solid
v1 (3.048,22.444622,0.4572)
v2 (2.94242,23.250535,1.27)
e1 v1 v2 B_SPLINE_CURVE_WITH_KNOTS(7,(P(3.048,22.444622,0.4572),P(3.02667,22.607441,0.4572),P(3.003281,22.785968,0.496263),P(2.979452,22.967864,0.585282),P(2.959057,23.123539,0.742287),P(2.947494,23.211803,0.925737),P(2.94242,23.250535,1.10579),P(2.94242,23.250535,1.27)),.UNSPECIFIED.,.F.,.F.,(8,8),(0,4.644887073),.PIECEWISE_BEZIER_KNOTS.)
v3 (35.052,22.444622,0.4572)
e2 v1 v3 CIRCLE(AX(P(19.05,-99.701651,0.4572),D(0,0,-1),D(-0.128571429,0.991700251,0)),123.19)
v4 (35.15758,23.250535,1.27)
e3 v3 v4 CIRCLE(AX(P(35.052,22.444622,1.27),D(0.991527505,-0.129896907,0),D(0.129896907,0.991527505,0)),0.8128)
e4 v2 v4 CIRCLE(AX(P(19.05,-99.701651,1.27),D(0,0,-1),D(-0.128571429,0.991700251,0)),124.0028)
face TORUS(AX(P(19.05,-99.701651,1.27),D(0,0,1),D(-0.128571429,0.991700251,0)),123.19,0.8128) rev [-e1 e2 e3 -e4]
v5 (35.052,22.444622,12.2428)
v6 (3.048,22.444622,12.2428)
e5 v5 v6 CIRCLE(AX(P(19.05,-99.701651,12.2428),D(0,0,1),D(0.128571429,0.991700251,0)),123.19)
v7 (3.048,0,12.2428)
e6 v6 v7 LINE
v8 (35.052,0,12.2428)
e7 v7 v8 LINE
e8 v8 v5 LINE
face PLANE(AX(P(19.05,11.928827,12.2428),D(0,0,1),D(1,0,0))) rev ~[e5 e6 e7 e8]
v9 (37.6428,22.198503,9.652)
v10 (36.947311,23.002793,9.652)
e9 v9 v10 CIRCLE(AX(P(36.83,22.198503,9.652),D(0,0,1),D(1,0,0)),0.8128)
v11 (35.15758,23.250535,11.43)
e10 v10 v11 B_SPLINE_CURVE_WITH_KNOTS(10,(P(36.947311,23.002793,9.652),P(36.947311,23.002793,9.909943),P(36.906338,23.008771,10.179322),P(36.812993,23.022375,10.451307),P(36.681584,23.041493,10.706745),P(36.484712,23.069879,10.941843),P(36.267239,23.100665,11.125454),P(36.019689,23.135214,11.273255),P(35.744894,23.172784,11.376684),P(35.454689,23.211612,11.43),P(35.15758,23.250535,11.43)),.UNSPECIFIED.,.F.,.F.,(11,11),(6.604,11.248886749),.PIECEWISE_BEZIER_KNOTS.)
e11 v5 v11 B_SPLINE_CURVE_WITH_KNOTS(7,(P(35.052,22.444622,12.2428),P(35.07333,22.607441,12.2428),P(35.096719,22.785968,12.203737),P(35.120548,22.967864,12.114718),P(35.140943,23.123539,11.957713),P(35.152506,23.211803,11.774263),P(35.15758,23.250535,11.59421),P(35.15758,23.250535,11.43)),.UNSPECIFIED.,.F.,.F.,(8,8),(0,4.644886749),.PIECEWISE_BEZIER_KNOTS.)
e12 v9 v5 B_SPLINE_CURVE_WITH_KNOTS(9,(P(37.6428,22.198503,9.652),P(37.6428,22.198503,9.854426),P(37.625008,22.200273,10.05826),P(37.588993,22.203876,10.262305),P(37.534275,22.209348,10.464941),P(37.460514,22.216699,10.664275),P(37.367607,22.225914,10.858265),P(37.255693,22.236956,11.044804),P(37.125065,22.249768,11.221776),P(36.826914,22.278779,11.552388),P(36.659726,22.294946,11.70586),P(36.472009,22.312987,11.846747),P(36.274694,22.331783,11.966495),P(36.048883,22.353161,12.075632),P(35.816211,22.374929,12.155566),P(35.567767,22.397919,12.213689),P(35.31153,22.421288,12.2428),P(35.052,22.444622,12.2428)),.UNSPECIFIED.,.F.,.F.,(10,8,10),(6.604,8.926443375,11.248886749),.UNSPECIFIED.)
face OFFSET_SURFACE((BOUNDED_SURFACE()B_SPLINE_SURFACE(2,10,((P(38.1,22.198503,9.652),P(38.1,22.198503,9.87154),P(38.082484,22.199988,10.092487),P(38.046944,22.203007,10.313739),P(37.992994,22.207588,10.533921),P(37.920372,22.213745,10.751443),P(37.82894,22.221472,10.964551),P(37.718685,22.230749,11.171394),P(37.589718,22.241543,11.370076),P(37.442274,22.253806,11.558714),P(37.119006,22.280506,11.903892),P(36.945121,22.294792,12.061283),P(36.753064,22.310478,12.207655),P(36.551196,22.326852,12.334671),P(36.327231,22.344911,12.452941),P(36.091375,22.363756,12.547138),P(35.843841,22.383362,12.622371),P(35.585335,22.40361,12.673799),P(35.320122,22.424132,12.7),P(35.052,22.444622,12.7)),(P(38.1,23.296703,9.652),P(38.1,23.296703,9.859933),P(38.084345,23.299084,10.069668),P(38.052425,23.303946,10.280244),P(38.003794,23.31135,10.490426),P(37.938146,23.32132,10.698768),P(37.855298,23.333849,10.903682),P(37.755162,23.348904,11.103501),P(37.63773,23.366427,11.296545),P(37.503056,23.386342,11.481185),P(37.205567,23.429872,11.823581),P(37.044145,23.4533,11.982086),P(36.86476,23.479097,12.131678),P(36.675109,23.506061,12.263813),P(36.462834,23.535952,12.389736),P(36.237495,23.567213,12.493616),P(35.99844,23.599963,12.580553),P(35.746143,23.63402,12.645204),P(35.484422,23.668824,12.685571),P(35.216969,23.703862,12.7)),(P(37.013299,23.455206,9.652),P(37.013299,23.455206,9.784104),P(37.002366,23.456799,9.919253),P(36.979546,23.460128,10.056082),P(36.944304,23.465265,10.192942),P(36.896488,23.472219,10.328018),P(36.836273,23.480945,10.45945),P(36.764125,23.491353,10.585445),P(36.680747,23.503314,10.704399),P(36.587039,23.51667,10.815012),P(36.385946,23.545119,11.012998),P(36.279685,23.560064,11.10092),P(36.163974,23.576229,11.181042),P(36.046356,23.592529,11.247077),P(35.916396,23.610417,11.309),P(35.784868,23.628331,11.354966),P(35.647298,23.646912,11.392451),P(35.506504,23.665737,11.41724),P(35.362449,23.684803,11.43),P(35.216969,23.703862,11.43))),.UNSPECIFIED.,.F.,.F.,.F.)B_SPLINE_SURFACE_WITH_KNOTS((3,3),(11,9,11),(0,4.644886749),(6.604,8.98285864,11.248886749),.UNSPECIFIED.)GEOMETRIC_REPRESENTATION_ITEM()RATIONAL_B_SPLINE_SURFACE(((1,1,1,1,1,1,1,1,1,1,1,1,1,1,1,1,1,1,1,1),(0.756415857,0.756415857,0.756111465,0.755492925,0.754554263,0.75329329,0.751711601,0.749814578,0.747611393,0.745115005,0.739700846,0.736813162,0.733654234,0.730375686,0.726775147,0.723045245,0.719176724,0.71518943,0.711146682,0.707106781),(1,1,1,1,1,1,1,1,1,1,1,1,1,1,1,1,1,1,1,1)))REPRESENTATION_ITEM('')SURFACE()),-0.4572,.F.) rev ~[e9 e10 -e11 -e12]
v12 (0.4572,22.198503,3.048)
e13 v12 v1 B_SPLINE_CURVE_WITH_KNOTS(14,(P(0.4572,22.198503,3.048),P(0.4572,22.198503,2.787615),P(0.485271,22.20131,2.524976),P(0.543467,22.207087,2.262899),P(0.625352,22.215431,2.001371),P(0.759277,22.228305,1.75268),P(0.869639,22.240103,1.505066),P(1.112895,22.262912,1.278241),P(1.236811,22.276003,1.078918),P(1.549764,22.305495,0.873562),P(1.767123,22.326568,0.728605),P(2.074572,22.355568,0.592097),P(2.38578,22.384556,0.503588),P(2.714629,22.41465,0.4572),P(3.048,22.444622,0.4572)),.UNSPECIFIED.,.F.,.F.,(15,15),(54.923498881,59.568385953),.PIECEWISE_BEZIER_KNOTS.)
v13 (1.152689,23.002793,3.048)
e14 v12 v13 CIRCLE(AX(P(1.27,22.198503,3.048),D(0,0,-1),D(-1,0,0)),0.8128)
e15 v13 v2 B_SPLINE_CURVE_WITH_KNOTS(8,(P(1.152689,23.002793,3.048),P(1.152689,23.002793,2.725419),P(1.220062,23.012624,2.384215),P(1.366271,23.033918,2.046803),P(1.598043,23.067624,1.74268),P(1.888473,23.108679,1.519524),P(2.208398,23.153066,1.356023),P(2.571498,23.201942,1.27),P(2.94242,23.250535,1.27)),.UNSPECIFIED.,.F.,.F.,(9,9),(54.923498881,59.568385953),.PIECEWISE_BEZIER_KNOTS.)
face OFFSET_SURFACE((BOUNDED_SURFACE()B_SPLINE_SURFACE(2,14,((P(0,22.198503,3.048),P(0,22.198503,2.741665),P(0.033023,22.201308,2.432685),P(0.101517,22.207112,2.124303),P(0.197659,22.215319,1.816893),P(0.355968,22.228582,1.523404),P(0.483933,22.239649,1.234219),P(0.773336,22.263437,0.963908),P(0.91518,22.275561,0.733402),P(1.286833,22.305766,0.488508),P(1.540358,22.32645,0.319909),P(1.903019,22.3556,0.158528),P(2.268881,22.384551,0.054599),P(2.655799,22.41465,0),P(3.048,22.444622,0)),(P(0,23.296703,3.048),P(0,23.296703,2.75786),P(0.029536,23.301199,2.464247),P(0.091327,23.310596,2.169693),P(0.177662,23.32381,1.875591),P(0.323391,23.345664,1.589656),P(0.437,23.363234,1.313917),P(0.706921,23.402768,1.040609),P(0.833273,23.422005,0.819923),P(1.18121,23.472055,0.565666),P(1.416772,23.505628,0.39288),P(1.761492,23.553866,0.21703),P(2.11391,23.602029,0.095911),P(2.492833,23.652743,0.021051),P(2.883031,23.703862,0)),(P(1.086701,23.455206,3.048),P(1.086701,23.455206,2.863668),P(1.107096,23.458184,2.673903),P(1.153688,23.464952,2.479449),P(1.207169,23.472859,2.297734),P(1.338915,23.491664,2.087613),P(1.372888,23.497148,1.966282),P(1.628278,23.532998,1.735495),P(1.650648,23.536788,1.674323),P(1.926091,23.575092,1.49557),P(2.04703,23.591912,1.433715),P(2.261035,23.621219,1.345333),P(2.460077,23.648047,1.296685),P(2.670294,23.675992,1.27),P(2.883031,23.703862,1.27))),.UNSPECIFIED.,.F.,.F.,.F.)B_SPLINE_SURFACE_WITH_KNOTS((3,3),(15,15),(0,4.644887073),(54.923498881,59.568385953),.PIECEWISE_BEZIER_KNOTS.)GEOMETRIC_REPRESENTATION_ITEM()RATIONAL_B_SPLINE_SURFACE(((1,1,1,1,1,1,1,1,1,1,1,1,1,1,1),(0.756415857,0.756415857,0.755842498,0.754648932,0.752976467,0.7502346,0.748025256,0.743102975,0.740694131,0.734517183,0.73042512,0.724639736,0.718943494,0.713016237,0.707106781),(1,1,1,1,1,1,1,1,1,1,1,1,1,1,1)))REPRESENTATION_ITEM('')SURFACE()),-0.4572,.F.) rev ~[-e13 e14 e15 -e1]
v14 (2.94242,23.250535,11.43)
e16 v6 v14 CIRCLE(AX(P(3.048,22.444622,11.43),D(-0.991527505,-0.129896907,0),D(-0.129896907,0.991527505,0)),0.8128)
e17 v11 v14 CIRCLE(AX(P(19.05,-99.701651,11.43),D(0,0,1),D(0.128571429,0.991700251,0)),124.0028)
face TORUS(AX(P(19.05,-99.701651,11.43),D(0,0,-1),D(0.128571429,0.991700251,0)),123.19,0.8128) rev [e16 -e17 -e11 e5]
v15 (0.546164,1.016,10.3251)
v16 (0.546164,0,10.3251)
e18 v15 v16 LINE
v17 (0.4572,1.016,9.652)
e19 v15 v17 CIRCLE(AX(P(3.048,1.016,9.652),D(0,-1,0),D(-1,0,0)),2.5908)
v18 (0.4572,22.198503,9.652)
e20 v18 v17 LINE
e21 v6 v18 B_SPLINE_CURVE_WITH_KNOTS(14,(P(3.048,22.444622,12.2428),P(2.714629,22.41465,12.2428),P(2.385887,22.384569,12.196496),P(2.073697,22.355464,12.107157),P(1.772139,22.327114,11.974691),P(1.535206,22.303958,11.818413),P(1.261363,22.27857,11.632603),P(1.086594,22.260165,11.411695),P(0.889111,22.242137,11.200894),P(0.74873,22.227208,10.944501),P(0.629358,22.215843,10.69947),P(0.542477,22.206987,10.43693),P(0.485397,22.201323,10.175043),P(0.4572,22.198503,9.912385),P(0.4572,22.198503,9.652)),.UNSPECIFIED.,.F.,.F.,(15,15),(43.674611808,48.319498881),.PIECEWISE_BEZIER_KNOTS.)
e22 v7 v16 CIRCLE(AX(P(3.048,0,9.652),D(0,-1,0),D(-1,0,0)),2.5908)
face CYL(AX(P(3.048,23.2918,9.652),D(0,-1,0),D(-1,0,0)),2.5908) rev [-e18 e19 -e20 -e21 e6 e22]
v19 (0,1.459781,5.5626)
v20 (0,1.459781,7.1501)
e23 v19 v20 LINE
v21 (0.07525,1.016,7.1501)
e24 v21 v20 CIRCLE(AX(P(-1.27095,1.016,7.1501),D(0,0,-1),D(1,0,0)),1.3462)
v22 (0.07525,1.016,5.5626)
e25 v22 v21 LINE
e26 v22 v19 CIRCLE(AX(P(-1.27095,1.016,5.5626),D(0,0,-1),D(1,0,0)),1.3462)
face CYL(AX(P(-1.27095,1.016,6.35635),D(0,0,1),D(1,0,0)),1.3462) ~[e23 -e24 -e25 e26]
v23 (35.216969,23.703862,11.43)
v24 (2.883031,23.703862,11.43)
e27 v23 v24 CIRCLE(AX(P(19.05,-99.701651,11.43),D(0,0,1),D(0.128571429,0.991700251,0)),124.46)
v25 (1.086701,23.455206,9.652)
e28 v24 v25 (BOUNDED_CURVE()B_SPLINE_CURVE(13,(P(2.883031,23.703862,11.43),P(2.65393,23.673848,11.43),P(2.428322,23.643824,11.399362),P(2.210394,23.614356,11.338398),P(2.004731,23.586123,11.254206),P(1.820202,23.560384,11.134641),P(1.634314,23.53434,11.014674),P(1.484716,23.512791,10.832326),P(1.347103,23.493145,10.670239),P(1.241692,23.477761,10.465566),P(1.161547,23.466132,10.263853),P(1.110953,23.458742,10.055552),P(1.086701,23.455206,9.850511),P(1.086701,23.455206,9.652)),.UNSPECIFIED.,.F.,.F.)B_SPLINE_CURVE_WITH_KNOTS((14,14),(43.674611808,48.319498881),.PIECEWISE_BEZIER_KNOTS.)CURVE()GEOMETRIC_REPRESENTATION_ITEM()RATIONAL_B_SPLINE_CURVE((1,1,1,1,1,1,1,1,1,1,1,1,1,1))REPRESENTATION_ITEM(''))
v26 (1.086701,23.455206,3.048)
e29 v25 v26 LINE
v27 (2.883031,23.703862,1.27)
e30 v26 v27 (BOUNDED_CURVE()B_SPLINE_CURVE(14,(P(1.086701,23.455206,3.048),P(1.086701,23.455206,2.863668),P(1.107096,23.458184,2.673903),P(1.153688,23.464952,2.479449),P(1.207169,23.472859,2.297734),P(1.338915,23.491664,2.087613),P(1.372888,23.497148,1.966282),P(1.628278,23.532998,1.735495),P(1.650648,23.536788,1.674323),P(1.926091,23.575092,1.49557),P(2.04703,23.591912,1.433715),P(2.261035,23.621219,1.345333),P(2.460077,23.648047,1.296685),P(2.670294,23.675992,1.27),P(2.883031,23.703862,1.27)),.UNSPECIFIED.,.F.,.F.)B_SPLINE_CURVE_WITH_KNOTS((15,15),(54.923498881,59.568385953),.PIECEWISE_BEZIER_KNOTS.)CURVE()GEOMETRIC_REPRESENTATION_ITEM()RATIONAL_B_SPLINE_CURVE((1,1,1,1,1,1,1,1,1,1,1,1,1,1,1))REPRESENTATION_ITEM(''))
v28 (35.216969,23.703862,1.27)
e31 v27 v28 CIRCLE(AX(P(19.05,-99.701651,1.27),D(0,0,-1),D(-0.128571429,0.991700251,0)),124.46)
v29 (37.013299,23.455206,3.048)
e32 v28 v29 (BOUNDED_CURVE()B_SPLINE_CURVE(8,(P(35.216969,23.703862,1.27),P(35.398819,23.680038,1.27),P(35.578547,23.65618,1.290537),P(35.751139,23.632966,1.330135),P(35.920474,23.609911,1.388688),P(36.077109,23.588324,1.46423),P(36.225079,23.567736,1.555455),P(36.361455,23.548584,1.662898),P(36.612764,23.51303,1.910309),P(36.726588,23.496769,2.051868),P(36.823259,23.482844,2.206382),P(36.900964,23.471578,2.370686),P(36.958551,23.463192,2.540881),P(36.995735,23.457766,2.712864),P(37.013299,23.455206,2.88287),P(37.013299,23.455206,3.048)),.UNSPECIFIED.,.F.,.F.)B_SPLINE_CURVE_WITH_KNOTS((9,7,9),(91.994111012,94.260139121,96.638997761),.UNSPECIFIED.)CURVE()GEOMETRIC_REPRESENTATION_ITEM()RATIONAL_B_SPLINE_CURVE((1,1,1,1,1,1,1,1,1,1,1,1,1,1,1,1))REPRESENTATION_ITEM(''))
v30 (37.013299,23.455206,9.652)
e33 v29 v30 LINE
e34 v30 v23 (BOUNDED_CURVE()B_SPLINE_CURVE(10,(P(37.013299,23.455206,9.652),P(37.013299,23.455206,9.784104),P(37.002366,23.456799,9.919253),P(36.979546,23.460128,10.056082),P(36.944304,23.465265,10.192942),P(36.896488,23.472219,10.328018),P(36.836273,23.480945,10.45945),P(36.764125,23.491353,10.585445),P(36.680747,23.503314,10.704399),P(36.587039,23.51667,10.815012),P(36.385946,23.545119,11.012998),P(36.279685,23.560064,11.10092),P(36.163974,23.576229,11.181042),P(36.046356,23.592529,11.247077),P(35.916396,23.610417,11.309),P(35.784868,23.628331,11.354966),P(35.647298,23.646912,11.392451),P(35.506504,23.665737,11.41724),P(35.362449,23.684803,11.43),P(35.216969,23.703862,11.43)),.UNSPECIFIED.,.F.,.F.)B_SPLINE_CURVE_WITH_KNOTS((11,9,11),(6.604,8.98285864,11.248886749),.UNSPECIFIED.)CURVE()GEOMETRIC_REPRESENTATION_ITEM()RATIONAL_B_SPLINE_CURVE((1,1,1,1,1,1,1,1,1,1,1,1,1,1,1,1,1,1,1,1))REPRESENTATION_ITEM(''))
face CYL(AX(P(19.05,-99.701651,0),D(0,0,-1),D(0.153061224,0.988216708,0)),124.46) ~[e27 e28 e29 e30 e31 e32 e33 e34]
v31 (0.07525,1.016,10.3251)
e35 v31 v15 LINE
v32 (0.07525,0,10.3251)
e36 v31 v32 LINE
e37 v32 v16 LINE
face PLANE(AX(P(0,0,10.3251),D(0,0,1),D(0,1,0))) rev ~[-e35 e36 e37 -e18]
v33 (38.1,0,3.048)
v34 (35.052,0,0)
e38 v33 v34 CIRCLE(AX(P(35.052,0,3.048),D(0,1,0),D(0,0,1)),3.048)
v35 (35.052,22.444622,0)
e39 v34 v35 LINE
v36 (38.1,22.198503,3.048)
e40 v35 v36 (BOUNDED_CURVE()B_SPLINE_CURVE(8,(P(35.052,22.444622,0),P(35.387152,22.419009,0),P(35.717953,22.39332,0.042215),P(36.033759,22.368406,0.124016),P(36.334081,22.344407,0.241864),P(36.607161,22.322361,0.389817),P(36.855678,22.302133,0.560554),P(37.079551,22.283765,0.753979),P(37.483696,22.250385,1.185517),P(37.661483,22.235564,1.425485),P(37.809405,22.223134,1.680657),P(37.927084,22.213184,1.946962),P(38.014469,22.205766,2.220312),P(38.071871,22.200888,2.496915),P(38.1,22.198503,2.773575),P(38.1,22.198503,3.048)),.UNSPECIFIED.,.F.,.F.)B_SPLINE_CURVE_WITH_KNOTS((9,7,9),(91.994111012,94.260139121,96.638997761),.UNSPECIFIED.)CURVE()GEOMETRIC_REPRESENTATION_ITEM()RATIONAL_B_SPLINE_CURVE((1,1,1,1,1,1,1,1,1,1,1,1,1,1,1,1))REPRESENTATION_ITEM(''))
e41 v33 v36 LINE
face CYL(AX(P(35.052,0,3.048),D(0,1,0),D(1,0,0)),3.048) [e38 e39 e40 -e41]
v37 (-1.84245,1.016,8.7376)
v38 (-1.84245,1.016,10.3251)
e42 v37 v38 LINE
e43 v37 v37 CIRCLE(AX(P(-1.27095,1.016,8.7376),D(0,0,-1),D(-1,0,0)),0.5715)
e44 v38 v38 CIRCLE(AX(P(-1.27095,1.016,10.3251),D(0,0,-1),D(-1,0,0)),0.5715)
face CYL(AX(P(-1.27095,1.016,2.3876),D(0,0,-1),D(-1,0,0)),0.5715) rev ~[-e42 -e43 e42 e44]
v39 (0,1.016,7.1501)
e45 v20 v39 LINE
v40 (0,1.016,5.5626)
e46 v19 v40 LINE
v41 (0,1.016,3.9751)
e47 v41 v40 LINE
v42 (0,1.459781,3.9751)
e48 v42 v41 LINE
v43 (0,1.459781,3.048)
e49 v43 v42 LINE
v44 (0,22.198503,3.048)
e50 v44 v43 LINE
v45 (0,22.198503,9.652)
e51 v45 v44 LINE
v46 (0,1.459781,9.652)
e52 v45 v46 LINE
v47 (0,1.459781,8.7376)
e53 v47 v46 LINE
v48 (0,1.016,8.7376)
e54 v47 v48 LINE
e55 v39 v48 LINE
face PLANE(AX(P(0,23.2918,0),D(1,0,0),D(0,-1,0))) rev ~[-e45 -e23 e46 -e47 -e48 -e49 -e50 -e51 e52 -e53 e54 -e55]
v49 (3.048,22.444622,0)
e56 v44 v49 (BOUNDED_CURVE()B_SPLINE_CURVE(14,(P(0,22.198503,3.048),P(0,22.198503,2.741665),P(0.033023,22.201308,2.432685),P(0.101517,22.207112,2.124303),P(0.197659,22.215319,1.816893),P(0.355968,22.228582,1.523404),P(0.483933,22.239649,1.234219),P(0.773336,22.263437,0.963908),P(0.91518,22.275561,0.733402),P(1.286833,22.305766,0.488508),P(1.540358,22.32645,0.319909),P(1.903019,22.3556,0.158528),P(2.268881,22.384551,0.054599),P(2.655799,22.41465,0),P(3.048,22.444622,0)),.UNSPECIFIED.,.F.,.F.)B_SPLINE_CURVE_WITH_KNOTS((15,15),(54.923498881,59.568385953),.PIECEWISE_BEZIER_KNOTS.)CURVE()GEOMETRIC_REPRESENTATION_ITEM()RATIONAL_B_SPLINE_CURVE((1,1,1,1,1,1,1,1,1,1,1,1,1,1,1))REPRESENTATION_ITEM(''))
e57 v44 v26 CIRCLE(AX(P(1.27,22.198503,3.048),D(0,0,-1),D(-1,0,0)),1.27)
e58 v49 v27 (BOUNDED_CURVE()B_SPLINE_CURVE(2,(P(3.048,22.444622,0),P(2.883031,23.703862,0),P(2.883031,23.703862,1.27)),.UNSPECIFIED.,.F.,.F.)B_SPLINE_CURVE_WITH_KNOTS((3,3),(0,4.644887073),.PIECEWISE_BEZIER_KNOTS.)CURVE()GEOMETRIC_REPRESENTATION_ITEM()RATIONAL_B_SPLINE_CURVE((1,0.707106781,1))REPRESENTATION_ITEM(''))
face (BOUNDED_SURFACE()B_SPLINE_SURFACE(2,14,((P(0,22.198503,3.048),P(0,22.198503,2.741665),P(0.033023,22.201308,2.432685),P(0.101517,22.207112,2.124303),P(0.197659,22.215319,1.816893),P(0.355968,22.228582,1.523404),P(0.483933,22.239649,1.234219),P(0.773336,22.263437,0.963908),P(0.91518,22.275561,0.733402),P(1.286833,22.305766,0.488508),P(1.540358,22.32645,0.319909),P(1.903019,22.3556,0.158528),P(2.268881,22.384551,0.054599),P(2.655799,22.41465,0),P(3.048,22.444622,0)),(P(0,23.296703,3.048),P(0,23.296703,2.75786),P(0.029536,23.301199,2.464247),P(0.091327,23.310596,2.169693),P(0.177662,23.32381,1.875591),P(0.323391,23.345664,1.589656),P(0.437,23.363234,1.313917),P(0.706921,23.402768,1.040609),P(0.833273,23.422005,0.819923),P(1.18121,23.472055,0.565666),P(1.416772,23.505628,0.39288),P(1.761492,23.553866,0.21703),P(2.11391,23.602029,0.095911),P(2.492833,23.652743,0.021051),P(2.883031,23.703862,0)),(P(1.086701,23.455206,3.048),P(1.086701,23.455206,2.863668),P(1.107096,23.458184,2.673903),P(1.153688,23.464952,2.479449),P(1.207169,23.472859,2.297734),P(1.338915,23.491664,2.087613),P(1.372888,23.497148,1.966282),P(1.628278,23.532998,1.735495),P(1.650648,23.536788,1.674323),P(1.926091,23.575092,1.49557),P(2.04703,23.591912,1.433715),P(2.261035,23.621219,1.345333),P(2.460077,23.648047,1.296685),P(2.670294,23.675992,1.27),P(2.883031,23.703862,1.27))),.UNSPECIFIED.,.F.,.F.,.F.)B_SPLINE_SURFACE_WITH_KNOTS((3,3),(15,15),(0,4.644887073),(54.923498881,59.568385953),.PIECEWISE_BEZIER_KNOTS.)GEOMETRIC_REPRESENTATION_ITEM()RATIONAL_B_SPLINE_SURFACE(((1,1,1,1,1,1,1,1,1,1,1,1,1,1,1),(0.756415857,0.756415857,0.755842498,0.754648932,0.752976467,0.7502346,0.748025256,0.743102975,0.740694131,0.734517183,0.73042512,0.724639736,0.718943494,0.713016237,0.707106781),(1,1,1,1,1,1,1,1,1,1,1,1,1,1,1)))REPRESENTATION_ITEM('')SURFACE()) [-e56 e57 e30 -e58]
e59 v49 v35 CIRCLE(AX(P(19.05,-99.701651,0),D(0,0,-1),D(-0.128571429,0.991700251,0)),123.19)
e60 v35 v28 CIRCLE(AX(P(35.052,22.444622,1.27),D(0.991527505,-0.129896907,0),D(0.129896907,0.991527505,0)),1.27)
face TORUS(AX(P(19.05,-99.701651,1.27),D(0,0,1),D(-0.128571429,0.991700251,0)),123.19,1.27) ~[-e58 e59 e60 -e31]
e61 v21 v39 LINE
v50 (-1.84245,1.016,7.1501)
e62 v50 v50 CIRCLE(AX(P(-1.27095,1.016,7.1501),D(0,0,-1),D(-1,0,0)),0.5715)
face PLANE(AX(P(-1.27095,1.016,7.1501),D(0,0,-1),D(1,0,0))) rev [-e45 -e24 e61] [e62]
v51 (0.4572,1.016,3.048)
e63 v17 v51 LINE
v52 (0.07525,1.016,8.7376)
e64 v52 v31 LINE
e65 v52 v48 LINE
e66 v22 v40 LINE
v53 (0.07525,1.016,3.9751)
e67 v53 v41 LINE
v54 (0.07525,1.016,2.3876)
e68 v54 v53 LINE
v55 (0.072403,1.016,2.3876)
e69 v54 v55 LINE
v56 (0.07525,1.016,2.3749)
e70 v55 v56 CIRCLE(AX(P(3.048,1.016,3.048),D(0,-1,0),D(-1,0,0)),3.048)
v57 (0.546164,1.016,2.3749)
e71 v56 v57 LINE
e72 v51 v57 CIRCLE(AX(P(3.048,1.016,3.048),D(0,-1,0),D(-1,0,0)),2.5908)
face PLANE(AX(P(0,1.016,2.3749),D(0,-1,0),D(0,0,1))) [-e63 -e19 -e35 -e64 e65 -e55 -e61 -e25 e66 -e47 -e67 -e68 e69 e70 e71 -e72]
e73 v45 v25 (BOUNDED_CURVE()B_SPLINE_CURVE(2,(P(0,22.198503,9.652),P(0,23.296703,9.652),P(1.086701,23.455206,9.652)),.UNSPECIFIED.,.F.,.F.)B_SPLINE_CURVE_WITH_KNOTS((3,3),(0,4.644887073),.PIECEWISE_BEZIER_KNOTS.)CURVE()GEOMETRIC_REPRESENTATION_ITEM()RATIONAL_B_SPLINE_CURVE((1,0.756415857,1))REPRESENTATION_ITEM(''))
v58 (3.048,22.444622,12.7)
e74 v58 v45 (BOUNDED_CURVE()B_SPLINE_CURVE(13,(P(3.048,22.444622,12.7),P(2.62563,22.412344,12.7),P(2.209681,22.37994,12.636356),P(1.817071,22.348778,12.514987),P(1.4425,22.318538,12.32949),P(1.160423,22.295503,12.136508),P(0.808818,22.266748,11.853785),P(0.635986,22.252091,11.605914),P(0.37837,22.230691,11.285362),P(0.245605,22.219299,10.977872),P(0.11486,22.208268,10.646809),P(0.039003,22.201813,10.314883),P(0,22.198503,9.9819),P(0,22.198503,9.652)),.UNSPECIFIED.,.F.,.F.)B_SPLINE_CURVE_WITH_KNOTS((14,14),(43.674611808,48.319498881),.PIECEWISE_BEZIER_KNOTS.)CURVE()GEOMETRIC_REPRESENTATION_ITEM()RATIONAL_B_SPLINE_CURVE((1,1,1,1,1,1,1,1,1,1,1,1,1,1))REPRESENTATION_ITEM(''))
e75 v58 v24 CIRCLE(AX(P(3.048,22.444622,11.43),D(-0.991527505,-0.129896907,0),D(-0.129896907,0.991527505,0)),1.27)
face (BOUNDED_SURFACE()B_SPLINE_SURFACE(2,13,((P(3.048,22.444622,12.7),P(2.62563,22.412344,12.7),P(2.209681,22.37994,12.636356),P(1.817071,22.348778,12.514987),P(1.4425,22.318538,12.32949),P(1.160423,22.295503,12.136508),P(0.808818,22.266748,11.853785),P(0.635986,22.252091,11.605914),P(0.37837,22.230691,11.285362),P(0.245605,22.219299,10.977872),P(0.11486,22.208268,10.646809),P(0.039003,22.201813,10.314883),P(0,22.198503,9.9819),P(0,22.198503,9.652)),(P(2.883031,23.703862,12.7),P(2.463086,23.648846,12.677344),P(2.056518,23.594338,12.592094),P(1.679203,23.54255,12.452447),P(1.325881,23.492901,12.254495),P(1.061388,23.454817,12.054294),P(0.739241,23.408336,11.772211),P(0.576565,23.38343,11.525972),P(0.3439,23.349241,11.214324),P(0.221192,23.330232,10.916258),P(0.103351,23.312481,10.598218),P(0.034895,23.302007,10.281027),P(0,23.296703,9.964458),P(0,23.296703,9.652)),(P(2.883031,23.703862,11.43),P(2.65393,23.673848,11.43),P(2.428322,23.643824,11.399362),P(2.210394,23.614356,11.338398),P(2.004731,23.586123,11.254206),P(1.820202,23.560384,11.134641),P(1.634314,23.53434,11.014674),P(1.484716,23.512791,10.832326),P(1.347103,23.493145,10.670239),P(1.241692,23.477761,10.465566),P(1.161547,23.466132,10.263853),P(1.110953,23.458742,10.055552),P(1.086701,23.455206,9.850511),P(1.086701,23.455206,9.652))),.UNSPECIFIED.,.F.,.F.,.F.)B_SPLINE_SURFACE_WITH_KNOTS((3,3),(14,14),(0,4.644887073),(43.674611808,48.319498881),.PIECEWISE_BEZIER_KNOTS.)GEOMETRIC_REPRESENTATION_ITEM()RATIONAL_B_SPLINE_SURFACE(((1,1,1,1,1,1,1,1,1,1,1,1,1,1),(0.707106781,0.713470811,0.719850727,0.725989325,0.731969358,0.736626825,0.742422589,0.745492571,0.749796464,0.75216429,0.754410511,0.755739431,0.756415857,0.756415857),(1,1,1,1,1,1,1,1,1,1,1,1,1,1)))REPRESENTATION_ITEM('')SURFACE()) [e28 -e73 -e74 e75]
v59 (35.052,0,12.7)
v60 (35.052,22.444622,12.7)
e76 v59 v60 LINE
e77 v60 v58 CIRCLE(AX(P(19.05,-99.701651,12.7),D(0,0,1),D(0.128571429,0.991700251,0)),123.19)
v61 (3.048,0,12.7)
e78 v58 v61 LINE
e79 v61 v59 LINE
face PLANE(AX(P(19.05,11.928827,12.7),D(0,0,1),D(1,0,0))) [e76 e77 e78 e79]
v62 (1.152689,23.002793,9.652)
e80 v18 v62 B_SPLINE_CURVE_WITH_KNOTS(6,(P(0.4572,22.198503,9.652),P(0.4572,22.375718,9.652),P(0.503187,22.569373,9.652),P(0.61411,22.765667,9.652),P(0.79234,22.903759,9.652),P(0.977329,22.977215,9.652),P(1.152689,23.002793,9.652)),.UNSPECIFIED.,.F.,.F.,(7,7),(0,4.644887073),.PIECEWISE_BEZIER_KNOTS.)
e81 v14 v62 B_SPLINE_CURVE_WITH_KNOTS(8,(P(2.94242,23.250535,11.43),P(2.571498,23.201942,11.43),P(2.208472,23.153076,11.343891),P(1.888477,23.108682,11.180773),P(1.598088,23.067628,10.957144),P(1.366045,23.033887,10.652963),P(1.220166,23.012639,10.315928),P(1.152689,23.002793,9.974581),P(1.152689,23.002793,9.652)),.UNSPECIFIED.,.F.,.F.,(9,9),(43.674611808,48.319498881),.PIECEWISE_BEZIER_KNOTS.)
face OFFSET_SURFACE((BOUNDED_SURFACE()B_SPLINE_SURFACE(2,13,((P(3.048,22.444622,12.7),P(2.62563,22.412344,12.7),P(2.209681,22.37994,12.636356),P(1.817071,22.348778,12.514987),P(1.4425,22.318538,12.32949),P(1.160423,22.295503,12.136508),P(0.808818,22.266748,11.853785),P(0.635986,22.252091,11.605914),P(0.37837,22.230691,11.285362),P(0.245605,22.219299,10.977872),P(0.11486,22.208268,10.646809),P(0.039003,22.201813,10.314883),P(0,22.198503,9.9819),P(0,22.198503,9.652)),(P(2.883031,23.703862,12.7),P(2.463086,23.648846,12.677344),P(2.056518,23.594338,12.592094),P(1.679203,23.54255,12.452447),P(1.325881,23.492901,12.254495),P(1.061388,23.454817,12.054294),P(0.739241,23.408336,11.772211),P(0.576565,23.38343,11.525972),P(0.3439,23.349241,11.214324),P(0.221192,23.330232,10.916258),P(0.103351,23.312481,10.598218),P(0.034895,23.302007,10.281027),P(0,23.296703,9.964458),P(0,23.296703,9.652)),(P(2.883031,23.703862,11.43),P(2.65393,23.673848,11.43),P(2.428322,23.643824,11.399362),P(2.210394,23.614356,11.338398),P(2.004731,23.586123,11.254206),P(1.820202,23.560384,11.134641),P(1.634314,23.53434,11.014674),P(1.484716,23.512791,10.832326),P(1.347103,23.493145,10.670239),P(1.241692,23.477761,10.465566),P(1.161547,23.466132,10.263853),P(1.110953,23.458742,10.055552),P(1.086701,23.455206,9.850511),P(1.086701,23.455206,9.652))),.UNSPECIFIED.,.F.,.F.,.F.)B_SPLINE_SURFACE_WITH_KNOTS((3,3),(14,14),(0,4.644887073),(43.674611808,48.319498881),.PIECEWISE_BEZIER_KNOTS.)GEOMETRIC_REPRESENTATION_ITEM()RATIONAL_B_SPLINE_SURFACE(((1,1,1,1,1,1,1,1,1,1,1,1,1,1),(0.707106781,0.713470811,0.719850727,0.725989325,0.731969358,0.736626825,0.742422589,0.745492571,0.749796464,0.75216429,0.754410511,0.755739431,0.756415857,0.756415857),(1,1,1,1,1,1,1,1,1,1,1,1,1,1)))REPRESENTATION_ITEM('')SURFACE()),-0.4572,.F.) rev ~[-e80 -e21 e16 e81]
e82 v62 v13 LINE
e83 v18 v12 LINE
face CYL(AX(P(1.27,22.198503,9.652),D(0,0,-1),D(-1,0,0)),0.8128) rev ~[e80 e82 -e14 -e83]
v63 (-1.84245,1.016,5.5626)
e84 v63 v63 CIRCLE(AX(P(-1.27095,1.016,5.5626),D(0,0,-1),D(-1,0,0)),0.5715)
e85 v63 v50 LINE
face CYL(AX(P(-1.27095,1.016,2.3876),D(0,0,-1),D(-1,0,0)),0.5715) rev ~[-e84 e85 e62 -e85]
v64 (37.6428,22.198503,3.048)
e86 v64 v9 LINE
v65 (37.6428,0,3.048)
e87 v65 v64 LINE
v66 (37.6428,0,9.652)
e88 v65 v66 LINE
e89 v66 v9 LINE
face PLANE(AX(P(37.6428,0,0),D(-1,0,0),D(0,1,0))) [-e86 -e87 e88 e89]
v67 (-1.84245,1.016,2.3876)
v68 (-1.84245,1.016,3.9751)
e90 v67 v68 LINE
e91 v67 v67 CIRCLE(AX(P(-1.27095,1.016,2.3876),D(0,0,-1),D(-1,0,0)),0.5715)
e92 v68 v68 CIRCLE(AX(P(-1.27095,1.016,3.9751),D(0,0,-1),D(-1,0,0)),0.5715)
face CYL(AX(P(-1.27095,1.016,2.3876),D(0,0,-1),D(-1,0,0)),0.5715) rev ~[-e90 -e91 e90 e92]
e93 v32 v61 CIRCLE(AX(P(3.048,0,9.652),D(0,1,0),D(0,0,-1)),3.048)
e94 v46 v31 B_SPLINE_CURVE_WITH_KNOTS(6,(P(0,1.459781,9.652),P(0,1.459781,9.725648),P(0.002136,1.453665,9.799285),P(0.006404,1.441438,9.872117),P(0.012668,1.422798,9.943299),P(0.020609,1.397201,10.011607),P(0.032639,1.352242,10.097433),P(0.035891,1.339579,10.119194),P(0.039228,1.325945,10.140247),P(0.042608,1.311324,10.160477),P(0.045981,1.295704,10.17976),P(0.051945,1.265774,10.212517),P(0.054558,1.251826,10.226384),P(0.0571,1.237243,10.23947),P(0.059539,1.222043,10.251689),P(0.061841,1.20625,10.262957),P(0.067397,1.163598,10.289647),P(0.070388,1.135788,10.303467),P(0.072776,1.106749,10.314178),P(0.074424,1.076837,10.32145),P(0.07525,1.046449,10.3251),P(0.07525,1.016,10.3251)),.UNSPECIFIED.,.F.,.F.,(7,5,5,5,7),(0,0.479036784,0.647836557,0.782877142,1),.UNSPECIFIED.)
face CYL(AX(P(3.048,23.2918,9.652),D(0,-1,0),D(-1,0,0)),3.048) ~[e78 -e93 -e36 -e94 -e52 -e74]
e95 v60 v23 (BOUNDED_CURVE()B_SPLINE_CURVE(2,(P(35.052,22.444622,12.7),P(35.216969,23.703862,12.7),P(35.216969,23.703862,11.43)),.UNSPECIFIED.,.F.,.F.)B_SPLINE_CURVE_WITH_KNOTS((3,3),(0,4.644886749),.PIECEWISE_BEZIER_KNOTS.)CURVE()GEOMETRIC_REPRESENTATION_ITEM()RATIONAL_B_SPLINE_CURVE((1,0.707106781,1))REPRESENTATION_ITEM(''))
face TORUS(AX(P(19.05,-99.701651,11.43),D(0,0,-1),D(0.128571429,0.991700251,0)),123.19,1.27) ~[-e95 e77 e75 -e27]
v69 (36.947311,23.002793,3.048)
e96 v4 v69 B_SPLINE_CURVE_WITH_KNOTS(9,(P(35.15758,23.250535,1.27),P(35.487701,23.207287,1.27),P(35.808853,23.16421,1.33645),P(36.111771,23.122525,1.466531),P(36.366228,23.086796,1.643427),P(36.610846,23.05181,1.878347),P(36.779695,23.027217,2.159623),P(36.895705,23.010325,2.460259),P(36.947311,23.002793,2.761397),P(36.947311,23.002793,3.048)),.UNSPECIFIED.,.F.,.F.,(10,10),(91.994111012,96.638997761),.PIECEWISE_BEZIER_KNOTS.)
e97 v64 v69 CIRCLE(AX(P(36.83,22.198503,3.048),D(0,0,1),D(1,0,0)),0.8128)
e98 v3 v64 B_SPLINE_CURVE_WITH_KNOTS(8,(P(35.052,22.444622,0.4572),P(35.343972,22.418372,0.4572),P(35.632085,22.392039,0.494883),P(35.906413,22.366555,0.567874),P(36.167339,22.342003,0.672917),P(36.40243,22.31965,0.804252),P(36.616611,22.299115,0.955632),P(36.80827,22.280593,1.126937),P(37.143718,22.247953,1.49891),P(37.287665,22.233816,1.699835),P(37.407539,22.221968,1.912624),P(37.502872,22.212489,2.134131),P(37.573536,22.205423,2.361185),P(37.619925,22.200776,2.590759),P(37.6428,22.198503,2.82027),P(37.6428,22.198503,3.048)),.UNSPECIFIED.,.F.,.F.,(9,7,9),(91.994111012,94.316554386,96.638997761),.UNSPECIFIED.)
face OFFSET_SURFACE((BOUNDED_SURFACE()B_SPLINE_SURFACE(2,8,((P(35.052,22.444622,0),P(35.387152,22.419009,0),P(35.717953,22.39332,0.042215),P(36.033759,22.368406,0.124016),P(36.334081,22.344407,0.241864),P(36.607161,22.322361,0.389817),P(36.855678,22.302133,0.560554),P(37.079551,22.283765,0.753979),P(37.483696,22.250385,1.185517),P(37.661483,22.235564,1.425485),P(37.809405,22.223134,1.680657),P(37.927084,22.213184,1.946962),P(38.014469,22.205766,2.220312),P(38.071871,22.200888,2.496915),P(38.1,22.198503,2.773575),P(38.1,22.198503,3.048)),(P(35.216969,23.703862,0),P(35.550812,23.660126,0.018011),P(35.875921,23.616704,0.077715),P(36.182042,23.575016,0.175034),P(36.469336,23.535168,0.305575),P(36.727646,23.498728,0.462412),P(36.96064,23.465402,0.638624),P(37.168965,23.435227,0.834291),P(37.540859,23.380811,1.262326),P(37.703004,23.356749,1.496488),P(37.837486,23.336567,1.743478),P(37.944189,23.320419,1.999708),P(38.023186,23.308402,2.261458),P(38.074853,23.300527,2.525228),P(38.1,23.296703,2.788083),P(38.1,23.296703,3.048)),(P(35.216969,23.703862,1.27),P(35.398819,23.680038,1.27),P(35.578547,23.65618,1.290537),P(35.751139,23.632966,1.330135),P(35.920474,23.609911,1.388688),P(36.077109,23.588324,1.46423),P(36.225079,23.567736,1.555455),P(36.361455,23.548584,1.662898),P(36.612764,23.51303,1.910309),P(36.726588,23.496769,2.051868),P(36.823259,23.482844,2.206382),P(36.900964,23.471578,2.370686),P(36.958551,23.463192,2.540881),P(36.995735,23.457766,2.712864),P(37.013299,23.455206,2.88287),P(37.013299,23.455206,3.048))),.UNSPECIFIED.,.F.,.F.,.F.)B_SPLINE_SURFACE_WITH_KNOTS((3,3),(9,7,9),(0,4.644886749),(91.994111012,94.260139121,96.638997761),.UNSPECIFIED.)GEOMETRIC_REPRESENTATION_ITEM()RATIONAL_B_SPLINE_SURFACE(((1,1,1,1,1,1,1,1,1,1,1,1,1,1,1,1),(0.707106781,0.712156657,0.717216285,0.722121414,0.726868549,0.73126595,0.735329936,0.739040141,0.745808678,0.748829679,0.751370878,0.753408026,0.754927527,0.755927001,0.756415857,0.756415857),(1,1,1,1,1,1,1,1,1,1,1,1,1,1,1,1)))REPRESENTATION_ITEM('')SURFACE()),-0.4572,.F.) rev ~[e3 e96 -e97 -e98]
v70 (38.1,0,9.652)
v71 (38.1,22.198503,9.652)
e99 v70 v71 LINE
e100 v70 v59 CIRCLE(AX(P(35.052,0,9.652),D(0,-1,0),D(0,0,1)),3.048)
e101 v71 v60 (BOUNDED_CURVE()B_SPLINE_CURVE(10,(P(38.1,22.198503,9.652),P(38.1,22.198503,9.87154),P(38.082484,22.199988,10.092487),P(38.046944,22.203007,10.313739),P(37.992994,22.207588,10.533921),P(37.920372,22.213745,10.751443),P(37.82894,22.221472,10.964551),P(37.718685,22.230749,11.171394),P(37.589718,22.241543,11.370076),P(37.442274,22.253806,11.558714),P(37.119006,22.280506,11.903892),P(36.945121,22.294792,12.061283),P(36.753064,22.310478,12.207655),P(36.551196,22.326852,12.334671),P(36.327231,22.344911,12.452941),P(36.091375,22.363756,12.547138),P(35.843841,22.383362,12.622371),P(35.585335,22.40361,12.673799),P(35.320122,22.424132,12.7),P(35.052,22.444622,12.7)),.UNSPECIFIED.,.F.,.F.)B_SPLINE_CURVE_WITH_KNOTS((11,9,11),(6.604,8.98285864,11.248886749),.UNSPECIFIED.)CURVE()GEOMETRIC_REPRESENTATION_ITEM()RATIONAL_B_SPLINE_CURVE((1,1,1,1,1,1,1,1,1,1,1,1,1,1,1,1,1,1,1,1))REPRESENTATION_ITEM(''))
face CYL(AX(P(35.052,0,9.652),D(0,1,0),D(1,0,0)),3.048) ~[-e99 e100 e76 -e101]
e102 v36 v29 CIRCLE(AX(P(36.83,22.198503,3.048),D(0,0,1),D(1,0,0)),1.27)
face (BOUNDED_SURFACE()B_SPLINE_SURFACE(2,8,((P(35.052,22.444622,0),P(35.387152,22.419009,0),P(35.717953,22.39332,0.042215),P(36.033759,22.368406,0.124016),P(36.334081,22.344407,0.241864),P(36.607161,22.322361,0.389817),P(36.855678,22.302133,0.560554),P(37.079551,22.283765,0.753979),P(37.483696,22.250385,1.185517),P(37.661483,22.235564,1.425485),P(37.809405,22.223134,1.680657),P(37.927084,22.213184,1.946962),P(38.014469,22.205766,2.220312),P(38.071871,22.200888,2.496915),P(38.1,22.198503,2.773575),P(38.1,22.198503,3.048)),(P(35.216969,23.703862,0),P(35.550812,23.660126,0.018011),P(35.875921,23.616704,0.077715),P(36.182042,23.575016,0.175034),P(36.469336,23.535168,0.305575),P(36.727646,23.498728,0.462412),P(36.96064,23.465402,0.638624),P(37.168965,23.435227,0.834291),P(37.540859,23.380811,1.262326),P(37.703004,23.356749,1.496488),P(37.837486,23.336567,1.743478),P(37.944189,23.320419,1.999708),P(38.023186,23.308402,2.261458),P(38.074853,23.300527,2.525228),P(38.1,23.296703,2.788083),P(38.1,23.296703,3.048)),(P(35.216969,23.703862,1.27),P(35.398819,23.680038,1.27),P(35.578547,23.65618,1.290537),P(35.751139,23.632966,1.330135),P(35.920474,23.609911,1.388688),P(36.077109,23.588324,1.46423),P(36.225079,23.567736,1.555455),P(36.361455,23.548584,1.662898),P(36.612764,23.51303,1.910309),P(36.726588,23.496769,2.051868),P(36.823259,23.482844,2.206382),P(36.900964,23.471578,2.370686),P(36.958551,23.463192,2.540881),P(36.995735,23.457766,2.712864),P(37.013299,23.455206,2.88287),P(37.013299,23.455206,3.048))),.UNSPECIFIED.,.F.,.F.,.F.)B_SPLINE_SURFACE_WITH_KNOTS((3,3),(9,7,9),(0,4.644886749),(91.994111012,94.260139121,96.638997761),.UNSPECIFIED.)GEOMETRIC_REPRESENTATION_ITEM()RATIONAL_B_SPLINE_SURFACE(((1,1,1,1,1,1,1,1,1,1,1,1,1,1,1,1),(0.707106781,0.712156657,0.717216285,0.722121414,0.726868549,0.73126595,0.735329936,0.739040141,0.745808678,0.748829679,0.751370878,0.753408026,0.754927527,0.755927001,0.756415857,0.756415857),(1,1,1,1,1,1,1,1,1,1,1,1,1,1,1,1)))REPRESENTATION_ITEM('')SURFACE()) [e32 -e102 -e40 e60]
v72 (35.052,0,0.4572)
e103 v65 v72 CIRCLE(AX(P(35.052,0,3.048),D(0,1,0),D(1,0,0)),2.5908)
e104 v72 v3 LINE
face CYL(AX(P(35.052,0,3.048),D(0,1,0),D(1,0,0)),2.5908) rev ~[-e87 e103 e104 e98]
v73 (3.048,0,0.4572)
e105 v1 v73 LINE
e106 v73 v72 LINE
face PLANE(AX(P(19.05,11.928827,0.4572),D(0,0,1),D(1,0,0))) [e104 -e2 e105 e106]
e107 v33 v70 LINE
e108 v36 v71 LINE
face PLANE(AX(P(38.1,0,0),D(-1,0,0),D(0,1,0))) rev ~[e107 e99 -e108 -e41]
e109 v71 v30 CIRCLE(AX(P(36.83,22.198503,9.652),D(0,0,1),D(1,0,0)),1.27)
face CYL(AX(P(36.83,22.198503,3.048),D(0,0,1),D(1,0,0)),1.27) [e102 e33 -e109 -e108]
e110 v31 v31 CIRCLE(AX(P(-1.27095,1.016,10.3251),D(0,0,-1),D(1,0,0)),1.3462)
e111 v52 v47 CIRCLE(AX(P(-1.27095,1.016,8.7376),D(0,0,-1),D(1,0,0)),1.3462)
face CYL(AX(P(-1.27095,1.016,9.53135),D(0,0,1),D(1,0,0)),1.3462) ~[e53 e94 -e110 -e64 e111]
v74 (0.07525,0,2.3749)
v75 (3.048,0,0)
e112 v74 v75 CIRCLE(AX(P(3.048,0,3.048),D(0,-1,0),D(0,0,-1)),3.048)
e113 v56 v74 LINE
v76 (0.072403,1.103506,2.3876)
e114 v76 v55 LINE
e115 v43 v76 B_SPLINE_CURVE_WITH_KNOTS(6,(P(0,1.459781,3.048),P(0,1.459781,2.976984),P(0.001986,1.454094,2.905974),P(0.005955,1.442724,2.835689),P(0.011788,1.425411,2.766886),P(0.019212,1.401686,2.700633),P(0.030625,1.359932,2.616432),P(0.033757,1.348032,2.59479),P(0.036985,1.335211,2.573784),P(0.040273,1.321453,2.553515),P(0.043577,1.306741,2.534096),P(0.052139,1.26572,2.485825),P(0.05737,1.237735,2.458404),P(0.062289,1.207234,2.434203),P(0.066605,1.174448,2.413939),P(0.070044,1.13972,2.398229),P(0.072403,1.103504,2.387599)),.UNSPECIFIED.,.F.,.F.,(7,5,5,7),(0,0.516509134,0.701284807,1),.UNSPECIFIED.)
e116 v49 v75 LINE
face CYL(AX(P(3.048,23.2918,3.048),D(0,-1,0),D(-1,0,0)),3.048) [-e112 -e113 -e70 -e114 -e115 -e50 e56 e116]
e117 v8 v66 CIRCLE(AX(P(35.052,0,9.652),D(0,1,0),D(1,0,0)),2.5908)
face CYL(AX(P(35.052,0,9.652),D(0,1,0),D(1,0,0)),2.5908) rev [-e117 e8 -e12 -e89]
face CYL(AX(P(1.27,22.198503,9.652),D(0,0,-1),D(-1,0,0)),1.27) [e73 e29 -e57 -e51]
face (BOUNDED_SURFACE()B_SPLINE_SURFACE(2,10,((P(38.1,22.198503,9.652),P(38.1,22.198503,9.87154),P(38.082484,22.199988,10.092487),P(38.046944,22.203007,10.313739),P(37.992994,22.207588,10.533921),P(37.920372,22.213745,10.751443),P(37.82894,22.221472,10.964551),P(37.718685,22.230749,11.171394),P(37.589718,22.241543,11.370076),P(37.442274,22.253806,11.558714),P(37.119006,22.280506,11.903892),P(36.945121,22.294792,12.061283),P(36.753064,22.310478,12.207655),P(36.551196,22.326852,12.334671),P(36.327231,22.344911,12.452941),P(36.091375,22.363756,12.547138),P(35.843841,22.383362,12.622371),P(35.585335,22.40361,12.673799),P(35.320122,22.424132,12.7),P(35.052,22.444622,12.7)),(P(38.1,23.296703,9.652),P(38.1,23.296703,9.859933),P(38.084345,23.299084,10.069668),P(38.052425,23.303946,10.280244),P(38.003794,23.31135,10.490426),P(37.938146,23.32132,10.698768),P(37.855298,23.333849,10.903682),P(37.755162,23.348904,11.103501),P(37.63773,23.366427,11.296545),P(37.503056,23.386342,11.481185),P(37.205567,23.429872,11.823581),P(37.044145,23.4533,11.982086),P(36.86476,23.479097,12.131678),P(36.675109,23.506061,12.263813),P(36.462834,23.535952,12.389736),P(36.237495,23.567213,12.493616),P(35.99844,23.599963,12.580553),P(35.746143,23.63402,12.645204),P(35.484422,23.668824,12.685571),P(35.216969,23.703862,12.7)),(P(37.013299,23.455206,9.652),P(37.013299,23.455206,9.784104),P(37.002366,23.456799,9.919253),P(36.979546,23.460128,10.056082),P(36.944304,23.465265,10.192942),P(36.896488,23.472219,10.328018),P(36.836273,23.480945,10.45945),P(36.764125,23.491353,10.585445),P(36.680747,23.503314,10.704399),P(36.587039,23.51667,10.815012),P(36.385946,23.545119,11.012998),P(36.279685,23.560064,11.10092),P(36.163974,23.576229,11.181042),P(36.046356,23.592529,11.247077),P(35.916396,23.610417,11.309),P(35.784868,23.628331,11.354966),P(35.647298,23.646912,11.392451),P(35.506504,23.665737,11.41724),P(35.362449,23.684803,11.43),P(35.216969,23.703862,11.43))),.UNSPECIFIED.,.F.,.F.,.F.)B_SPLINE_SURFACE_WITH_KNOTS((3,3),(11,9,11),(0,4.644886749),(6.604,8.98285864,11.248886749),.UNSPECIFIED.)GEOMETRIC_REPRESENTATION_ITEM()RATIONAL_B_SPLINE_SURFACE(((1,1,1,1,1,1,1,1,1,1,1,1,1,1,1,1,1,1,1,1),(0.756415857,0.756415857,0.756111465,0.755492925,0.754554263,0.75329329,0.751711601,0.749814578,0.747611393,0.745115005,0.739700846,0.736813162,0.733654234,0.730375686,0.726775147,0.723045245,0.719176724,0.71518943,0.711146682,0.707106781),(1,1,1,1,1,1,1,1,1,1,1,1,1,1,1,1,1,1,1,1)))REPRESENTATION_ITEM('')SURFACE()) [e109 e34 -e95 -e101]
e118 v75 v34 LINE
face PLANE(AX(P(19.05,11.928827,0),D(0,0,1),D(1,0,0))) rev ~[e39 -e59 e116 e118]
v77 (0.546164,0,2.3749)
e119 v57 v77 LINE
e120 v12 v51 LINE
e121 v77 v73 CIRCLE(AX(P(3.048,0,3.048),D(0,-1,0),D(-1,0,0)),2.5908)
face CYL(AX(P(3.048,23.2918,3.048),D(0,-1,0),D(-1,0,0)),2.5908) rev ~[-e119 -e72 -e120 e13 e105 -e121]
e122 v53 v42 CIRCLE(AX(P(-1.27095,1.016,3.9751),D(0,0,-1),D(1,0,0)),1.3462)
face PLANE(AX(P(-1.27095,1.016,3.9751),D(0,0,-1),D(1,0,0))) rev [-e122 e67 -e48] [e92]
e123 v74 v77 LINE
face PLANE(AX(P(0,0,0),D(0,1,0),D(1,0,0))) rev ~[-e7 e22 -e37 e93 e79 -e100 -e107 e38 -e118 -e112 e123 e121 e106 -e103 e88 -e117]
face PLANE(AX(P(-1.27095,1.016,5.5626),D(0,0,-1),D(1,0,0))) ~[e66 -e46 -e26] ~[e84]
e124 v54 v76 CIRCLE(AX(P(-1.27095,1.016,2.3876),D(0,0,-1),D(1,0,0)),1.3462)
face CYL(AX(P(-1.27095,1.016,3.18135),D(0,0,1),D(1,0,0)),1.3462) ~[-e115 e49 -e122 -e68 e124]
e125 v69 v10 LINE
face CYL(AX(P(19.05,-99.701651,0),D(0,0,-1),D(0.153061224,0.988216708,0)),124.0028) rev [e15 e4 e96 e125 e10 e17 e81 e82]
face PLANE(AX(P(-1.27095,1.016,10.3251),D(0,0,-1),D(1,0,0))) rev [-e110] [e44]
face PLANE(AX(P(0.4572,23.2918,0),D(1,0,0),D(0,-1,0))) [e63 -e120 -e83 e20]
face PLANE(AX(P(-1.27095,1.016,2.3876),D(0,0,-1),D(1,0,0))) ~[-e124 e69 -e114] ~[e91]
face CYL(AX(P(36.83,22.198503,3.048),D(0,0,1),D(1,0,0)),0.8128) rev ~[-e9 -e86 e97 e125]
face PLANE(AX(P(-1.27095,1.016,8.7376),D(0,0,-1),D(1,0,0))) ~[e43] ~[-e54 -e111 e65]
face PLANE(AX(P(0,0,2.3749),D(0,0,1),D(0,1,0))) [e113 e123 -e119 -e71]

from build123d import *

# Parameters (mm, degrees)
BOSS_EXTRUDE1_DEPTH = 12.7
FILLET7_R           = 3.048
FILLET8_R           = 1.27
SHELL2_T            = -0.4572
SKETCH2_W           = 7.9502
SKETCH2_H           = 1.016
CUT_EXTRUDE1_DEPTH  = 11.7856
SKETCH4_W           = 1.3462
SKETCH4_H           = 1.5875
SKETCH5_R           = 0.5715
CUT_EXTRUDE2_DEPTH  = 11.3124001


with BuildPart() as part:
    # Sketch1 → Boss-Extrude1 (new body)
    with BuildSketch(Plane.XY):
        with BuildLine():
            Line((0, 0), (38.1, 0))
            Line((38.1, 0), (38.1, 23.2918))
            ThreePointArc((38.1, 23.2918), (19.05, 24.758348548), (0, 23.2918))
            Line((0, 23.2918), (0, 0))
        make_face()
    extrude(amount=BOSS_EXTRUDE1_DEPTH)

    # Fillet7
    fillet7_edges = [part.edges().sort_by_distance(p)[0] for p in [
        (38.1, 11.6459, 12.7),
        (0, 11.6459, 12.7),
        (38.1, 11.6459, 0),
        (0, 11.6459, 0),
    ]]
    fillet(fillet7_edges, radius=FILLET7_R)

    # Fillet8
    fillet8_edges = [part.edges().sort_by_distance(p)[0] for p in [
        (38.1, 23.2918, 6.35),
        (19.05, 24.758348548, 0),
        (0, 23.2918, 6.35),
        (19.05, 24.758348548, 12.7),
        (0.897565394, 23.427470684, 11.812077539),
        (0.897565394, 23.427470684, 0.887922461),
        (37.20243455, 23.427470691, 11.812077599),
        (37.20243455, 23.427470691, 0.887922401),
    ]]
    fillet(fillet8_edges, radius=FILLET8_R)

    # Shell2
    shell2_openings = [part.faces().sort_by_distance(p)[0] for p in [
        (19.05, 0, 6.35),
    ]]
    offset(amount=SHELL2_T, openings=shell2_openings, kind=Kind.INTERSECTION)

    # Sketch2 → Cut-Extrude1 (cut)
    with BuildSketch(Plane.ZY):
        with Locations((6.35, 0.508)):
            Rectangle(SKETCH2_W, SKETCH2_H)
    extrude(amount=-CUT_EXTRUDE1_DEPTH, mode=Mode.SUBTRACT)

    # Sketch4 → Revolve1 (revolve)
    with BuildSketch(Plane.XZ.offset(-1.016)):
        with Locations((-0.597849635, 6.35635)):
            Rectangle(SKETCH4_W, SKETCH4_H)
        with Locations((-0.597849635, 9.53135)):
            Rectangle(SKETCH4_W, SKETCH4_H)
        with Locations((-0.597849635, 3.18135)):
            Rectangle(SKETCH4_W, SKETCH4_H)
    revolve(axis=Axis((-1.270949635, 1.016, 10.3251), (0, 0, -1)))

    # Sketch5 → Cut-Extrude2 (cut, through all)
    with BuildSketch(Plane(origin=(0, 0, 2.3876), x_dir=(-1, 0, 0), z_dir=(0, 0, -1))):
        with Locations((1.270949635, 1.016)):
            Circle(SKETCH5_R)
    extrude(amount=-CUT_EXTRUDE2_DEPTH, mode=Mode.SUBTRACT)


solid = part.part
